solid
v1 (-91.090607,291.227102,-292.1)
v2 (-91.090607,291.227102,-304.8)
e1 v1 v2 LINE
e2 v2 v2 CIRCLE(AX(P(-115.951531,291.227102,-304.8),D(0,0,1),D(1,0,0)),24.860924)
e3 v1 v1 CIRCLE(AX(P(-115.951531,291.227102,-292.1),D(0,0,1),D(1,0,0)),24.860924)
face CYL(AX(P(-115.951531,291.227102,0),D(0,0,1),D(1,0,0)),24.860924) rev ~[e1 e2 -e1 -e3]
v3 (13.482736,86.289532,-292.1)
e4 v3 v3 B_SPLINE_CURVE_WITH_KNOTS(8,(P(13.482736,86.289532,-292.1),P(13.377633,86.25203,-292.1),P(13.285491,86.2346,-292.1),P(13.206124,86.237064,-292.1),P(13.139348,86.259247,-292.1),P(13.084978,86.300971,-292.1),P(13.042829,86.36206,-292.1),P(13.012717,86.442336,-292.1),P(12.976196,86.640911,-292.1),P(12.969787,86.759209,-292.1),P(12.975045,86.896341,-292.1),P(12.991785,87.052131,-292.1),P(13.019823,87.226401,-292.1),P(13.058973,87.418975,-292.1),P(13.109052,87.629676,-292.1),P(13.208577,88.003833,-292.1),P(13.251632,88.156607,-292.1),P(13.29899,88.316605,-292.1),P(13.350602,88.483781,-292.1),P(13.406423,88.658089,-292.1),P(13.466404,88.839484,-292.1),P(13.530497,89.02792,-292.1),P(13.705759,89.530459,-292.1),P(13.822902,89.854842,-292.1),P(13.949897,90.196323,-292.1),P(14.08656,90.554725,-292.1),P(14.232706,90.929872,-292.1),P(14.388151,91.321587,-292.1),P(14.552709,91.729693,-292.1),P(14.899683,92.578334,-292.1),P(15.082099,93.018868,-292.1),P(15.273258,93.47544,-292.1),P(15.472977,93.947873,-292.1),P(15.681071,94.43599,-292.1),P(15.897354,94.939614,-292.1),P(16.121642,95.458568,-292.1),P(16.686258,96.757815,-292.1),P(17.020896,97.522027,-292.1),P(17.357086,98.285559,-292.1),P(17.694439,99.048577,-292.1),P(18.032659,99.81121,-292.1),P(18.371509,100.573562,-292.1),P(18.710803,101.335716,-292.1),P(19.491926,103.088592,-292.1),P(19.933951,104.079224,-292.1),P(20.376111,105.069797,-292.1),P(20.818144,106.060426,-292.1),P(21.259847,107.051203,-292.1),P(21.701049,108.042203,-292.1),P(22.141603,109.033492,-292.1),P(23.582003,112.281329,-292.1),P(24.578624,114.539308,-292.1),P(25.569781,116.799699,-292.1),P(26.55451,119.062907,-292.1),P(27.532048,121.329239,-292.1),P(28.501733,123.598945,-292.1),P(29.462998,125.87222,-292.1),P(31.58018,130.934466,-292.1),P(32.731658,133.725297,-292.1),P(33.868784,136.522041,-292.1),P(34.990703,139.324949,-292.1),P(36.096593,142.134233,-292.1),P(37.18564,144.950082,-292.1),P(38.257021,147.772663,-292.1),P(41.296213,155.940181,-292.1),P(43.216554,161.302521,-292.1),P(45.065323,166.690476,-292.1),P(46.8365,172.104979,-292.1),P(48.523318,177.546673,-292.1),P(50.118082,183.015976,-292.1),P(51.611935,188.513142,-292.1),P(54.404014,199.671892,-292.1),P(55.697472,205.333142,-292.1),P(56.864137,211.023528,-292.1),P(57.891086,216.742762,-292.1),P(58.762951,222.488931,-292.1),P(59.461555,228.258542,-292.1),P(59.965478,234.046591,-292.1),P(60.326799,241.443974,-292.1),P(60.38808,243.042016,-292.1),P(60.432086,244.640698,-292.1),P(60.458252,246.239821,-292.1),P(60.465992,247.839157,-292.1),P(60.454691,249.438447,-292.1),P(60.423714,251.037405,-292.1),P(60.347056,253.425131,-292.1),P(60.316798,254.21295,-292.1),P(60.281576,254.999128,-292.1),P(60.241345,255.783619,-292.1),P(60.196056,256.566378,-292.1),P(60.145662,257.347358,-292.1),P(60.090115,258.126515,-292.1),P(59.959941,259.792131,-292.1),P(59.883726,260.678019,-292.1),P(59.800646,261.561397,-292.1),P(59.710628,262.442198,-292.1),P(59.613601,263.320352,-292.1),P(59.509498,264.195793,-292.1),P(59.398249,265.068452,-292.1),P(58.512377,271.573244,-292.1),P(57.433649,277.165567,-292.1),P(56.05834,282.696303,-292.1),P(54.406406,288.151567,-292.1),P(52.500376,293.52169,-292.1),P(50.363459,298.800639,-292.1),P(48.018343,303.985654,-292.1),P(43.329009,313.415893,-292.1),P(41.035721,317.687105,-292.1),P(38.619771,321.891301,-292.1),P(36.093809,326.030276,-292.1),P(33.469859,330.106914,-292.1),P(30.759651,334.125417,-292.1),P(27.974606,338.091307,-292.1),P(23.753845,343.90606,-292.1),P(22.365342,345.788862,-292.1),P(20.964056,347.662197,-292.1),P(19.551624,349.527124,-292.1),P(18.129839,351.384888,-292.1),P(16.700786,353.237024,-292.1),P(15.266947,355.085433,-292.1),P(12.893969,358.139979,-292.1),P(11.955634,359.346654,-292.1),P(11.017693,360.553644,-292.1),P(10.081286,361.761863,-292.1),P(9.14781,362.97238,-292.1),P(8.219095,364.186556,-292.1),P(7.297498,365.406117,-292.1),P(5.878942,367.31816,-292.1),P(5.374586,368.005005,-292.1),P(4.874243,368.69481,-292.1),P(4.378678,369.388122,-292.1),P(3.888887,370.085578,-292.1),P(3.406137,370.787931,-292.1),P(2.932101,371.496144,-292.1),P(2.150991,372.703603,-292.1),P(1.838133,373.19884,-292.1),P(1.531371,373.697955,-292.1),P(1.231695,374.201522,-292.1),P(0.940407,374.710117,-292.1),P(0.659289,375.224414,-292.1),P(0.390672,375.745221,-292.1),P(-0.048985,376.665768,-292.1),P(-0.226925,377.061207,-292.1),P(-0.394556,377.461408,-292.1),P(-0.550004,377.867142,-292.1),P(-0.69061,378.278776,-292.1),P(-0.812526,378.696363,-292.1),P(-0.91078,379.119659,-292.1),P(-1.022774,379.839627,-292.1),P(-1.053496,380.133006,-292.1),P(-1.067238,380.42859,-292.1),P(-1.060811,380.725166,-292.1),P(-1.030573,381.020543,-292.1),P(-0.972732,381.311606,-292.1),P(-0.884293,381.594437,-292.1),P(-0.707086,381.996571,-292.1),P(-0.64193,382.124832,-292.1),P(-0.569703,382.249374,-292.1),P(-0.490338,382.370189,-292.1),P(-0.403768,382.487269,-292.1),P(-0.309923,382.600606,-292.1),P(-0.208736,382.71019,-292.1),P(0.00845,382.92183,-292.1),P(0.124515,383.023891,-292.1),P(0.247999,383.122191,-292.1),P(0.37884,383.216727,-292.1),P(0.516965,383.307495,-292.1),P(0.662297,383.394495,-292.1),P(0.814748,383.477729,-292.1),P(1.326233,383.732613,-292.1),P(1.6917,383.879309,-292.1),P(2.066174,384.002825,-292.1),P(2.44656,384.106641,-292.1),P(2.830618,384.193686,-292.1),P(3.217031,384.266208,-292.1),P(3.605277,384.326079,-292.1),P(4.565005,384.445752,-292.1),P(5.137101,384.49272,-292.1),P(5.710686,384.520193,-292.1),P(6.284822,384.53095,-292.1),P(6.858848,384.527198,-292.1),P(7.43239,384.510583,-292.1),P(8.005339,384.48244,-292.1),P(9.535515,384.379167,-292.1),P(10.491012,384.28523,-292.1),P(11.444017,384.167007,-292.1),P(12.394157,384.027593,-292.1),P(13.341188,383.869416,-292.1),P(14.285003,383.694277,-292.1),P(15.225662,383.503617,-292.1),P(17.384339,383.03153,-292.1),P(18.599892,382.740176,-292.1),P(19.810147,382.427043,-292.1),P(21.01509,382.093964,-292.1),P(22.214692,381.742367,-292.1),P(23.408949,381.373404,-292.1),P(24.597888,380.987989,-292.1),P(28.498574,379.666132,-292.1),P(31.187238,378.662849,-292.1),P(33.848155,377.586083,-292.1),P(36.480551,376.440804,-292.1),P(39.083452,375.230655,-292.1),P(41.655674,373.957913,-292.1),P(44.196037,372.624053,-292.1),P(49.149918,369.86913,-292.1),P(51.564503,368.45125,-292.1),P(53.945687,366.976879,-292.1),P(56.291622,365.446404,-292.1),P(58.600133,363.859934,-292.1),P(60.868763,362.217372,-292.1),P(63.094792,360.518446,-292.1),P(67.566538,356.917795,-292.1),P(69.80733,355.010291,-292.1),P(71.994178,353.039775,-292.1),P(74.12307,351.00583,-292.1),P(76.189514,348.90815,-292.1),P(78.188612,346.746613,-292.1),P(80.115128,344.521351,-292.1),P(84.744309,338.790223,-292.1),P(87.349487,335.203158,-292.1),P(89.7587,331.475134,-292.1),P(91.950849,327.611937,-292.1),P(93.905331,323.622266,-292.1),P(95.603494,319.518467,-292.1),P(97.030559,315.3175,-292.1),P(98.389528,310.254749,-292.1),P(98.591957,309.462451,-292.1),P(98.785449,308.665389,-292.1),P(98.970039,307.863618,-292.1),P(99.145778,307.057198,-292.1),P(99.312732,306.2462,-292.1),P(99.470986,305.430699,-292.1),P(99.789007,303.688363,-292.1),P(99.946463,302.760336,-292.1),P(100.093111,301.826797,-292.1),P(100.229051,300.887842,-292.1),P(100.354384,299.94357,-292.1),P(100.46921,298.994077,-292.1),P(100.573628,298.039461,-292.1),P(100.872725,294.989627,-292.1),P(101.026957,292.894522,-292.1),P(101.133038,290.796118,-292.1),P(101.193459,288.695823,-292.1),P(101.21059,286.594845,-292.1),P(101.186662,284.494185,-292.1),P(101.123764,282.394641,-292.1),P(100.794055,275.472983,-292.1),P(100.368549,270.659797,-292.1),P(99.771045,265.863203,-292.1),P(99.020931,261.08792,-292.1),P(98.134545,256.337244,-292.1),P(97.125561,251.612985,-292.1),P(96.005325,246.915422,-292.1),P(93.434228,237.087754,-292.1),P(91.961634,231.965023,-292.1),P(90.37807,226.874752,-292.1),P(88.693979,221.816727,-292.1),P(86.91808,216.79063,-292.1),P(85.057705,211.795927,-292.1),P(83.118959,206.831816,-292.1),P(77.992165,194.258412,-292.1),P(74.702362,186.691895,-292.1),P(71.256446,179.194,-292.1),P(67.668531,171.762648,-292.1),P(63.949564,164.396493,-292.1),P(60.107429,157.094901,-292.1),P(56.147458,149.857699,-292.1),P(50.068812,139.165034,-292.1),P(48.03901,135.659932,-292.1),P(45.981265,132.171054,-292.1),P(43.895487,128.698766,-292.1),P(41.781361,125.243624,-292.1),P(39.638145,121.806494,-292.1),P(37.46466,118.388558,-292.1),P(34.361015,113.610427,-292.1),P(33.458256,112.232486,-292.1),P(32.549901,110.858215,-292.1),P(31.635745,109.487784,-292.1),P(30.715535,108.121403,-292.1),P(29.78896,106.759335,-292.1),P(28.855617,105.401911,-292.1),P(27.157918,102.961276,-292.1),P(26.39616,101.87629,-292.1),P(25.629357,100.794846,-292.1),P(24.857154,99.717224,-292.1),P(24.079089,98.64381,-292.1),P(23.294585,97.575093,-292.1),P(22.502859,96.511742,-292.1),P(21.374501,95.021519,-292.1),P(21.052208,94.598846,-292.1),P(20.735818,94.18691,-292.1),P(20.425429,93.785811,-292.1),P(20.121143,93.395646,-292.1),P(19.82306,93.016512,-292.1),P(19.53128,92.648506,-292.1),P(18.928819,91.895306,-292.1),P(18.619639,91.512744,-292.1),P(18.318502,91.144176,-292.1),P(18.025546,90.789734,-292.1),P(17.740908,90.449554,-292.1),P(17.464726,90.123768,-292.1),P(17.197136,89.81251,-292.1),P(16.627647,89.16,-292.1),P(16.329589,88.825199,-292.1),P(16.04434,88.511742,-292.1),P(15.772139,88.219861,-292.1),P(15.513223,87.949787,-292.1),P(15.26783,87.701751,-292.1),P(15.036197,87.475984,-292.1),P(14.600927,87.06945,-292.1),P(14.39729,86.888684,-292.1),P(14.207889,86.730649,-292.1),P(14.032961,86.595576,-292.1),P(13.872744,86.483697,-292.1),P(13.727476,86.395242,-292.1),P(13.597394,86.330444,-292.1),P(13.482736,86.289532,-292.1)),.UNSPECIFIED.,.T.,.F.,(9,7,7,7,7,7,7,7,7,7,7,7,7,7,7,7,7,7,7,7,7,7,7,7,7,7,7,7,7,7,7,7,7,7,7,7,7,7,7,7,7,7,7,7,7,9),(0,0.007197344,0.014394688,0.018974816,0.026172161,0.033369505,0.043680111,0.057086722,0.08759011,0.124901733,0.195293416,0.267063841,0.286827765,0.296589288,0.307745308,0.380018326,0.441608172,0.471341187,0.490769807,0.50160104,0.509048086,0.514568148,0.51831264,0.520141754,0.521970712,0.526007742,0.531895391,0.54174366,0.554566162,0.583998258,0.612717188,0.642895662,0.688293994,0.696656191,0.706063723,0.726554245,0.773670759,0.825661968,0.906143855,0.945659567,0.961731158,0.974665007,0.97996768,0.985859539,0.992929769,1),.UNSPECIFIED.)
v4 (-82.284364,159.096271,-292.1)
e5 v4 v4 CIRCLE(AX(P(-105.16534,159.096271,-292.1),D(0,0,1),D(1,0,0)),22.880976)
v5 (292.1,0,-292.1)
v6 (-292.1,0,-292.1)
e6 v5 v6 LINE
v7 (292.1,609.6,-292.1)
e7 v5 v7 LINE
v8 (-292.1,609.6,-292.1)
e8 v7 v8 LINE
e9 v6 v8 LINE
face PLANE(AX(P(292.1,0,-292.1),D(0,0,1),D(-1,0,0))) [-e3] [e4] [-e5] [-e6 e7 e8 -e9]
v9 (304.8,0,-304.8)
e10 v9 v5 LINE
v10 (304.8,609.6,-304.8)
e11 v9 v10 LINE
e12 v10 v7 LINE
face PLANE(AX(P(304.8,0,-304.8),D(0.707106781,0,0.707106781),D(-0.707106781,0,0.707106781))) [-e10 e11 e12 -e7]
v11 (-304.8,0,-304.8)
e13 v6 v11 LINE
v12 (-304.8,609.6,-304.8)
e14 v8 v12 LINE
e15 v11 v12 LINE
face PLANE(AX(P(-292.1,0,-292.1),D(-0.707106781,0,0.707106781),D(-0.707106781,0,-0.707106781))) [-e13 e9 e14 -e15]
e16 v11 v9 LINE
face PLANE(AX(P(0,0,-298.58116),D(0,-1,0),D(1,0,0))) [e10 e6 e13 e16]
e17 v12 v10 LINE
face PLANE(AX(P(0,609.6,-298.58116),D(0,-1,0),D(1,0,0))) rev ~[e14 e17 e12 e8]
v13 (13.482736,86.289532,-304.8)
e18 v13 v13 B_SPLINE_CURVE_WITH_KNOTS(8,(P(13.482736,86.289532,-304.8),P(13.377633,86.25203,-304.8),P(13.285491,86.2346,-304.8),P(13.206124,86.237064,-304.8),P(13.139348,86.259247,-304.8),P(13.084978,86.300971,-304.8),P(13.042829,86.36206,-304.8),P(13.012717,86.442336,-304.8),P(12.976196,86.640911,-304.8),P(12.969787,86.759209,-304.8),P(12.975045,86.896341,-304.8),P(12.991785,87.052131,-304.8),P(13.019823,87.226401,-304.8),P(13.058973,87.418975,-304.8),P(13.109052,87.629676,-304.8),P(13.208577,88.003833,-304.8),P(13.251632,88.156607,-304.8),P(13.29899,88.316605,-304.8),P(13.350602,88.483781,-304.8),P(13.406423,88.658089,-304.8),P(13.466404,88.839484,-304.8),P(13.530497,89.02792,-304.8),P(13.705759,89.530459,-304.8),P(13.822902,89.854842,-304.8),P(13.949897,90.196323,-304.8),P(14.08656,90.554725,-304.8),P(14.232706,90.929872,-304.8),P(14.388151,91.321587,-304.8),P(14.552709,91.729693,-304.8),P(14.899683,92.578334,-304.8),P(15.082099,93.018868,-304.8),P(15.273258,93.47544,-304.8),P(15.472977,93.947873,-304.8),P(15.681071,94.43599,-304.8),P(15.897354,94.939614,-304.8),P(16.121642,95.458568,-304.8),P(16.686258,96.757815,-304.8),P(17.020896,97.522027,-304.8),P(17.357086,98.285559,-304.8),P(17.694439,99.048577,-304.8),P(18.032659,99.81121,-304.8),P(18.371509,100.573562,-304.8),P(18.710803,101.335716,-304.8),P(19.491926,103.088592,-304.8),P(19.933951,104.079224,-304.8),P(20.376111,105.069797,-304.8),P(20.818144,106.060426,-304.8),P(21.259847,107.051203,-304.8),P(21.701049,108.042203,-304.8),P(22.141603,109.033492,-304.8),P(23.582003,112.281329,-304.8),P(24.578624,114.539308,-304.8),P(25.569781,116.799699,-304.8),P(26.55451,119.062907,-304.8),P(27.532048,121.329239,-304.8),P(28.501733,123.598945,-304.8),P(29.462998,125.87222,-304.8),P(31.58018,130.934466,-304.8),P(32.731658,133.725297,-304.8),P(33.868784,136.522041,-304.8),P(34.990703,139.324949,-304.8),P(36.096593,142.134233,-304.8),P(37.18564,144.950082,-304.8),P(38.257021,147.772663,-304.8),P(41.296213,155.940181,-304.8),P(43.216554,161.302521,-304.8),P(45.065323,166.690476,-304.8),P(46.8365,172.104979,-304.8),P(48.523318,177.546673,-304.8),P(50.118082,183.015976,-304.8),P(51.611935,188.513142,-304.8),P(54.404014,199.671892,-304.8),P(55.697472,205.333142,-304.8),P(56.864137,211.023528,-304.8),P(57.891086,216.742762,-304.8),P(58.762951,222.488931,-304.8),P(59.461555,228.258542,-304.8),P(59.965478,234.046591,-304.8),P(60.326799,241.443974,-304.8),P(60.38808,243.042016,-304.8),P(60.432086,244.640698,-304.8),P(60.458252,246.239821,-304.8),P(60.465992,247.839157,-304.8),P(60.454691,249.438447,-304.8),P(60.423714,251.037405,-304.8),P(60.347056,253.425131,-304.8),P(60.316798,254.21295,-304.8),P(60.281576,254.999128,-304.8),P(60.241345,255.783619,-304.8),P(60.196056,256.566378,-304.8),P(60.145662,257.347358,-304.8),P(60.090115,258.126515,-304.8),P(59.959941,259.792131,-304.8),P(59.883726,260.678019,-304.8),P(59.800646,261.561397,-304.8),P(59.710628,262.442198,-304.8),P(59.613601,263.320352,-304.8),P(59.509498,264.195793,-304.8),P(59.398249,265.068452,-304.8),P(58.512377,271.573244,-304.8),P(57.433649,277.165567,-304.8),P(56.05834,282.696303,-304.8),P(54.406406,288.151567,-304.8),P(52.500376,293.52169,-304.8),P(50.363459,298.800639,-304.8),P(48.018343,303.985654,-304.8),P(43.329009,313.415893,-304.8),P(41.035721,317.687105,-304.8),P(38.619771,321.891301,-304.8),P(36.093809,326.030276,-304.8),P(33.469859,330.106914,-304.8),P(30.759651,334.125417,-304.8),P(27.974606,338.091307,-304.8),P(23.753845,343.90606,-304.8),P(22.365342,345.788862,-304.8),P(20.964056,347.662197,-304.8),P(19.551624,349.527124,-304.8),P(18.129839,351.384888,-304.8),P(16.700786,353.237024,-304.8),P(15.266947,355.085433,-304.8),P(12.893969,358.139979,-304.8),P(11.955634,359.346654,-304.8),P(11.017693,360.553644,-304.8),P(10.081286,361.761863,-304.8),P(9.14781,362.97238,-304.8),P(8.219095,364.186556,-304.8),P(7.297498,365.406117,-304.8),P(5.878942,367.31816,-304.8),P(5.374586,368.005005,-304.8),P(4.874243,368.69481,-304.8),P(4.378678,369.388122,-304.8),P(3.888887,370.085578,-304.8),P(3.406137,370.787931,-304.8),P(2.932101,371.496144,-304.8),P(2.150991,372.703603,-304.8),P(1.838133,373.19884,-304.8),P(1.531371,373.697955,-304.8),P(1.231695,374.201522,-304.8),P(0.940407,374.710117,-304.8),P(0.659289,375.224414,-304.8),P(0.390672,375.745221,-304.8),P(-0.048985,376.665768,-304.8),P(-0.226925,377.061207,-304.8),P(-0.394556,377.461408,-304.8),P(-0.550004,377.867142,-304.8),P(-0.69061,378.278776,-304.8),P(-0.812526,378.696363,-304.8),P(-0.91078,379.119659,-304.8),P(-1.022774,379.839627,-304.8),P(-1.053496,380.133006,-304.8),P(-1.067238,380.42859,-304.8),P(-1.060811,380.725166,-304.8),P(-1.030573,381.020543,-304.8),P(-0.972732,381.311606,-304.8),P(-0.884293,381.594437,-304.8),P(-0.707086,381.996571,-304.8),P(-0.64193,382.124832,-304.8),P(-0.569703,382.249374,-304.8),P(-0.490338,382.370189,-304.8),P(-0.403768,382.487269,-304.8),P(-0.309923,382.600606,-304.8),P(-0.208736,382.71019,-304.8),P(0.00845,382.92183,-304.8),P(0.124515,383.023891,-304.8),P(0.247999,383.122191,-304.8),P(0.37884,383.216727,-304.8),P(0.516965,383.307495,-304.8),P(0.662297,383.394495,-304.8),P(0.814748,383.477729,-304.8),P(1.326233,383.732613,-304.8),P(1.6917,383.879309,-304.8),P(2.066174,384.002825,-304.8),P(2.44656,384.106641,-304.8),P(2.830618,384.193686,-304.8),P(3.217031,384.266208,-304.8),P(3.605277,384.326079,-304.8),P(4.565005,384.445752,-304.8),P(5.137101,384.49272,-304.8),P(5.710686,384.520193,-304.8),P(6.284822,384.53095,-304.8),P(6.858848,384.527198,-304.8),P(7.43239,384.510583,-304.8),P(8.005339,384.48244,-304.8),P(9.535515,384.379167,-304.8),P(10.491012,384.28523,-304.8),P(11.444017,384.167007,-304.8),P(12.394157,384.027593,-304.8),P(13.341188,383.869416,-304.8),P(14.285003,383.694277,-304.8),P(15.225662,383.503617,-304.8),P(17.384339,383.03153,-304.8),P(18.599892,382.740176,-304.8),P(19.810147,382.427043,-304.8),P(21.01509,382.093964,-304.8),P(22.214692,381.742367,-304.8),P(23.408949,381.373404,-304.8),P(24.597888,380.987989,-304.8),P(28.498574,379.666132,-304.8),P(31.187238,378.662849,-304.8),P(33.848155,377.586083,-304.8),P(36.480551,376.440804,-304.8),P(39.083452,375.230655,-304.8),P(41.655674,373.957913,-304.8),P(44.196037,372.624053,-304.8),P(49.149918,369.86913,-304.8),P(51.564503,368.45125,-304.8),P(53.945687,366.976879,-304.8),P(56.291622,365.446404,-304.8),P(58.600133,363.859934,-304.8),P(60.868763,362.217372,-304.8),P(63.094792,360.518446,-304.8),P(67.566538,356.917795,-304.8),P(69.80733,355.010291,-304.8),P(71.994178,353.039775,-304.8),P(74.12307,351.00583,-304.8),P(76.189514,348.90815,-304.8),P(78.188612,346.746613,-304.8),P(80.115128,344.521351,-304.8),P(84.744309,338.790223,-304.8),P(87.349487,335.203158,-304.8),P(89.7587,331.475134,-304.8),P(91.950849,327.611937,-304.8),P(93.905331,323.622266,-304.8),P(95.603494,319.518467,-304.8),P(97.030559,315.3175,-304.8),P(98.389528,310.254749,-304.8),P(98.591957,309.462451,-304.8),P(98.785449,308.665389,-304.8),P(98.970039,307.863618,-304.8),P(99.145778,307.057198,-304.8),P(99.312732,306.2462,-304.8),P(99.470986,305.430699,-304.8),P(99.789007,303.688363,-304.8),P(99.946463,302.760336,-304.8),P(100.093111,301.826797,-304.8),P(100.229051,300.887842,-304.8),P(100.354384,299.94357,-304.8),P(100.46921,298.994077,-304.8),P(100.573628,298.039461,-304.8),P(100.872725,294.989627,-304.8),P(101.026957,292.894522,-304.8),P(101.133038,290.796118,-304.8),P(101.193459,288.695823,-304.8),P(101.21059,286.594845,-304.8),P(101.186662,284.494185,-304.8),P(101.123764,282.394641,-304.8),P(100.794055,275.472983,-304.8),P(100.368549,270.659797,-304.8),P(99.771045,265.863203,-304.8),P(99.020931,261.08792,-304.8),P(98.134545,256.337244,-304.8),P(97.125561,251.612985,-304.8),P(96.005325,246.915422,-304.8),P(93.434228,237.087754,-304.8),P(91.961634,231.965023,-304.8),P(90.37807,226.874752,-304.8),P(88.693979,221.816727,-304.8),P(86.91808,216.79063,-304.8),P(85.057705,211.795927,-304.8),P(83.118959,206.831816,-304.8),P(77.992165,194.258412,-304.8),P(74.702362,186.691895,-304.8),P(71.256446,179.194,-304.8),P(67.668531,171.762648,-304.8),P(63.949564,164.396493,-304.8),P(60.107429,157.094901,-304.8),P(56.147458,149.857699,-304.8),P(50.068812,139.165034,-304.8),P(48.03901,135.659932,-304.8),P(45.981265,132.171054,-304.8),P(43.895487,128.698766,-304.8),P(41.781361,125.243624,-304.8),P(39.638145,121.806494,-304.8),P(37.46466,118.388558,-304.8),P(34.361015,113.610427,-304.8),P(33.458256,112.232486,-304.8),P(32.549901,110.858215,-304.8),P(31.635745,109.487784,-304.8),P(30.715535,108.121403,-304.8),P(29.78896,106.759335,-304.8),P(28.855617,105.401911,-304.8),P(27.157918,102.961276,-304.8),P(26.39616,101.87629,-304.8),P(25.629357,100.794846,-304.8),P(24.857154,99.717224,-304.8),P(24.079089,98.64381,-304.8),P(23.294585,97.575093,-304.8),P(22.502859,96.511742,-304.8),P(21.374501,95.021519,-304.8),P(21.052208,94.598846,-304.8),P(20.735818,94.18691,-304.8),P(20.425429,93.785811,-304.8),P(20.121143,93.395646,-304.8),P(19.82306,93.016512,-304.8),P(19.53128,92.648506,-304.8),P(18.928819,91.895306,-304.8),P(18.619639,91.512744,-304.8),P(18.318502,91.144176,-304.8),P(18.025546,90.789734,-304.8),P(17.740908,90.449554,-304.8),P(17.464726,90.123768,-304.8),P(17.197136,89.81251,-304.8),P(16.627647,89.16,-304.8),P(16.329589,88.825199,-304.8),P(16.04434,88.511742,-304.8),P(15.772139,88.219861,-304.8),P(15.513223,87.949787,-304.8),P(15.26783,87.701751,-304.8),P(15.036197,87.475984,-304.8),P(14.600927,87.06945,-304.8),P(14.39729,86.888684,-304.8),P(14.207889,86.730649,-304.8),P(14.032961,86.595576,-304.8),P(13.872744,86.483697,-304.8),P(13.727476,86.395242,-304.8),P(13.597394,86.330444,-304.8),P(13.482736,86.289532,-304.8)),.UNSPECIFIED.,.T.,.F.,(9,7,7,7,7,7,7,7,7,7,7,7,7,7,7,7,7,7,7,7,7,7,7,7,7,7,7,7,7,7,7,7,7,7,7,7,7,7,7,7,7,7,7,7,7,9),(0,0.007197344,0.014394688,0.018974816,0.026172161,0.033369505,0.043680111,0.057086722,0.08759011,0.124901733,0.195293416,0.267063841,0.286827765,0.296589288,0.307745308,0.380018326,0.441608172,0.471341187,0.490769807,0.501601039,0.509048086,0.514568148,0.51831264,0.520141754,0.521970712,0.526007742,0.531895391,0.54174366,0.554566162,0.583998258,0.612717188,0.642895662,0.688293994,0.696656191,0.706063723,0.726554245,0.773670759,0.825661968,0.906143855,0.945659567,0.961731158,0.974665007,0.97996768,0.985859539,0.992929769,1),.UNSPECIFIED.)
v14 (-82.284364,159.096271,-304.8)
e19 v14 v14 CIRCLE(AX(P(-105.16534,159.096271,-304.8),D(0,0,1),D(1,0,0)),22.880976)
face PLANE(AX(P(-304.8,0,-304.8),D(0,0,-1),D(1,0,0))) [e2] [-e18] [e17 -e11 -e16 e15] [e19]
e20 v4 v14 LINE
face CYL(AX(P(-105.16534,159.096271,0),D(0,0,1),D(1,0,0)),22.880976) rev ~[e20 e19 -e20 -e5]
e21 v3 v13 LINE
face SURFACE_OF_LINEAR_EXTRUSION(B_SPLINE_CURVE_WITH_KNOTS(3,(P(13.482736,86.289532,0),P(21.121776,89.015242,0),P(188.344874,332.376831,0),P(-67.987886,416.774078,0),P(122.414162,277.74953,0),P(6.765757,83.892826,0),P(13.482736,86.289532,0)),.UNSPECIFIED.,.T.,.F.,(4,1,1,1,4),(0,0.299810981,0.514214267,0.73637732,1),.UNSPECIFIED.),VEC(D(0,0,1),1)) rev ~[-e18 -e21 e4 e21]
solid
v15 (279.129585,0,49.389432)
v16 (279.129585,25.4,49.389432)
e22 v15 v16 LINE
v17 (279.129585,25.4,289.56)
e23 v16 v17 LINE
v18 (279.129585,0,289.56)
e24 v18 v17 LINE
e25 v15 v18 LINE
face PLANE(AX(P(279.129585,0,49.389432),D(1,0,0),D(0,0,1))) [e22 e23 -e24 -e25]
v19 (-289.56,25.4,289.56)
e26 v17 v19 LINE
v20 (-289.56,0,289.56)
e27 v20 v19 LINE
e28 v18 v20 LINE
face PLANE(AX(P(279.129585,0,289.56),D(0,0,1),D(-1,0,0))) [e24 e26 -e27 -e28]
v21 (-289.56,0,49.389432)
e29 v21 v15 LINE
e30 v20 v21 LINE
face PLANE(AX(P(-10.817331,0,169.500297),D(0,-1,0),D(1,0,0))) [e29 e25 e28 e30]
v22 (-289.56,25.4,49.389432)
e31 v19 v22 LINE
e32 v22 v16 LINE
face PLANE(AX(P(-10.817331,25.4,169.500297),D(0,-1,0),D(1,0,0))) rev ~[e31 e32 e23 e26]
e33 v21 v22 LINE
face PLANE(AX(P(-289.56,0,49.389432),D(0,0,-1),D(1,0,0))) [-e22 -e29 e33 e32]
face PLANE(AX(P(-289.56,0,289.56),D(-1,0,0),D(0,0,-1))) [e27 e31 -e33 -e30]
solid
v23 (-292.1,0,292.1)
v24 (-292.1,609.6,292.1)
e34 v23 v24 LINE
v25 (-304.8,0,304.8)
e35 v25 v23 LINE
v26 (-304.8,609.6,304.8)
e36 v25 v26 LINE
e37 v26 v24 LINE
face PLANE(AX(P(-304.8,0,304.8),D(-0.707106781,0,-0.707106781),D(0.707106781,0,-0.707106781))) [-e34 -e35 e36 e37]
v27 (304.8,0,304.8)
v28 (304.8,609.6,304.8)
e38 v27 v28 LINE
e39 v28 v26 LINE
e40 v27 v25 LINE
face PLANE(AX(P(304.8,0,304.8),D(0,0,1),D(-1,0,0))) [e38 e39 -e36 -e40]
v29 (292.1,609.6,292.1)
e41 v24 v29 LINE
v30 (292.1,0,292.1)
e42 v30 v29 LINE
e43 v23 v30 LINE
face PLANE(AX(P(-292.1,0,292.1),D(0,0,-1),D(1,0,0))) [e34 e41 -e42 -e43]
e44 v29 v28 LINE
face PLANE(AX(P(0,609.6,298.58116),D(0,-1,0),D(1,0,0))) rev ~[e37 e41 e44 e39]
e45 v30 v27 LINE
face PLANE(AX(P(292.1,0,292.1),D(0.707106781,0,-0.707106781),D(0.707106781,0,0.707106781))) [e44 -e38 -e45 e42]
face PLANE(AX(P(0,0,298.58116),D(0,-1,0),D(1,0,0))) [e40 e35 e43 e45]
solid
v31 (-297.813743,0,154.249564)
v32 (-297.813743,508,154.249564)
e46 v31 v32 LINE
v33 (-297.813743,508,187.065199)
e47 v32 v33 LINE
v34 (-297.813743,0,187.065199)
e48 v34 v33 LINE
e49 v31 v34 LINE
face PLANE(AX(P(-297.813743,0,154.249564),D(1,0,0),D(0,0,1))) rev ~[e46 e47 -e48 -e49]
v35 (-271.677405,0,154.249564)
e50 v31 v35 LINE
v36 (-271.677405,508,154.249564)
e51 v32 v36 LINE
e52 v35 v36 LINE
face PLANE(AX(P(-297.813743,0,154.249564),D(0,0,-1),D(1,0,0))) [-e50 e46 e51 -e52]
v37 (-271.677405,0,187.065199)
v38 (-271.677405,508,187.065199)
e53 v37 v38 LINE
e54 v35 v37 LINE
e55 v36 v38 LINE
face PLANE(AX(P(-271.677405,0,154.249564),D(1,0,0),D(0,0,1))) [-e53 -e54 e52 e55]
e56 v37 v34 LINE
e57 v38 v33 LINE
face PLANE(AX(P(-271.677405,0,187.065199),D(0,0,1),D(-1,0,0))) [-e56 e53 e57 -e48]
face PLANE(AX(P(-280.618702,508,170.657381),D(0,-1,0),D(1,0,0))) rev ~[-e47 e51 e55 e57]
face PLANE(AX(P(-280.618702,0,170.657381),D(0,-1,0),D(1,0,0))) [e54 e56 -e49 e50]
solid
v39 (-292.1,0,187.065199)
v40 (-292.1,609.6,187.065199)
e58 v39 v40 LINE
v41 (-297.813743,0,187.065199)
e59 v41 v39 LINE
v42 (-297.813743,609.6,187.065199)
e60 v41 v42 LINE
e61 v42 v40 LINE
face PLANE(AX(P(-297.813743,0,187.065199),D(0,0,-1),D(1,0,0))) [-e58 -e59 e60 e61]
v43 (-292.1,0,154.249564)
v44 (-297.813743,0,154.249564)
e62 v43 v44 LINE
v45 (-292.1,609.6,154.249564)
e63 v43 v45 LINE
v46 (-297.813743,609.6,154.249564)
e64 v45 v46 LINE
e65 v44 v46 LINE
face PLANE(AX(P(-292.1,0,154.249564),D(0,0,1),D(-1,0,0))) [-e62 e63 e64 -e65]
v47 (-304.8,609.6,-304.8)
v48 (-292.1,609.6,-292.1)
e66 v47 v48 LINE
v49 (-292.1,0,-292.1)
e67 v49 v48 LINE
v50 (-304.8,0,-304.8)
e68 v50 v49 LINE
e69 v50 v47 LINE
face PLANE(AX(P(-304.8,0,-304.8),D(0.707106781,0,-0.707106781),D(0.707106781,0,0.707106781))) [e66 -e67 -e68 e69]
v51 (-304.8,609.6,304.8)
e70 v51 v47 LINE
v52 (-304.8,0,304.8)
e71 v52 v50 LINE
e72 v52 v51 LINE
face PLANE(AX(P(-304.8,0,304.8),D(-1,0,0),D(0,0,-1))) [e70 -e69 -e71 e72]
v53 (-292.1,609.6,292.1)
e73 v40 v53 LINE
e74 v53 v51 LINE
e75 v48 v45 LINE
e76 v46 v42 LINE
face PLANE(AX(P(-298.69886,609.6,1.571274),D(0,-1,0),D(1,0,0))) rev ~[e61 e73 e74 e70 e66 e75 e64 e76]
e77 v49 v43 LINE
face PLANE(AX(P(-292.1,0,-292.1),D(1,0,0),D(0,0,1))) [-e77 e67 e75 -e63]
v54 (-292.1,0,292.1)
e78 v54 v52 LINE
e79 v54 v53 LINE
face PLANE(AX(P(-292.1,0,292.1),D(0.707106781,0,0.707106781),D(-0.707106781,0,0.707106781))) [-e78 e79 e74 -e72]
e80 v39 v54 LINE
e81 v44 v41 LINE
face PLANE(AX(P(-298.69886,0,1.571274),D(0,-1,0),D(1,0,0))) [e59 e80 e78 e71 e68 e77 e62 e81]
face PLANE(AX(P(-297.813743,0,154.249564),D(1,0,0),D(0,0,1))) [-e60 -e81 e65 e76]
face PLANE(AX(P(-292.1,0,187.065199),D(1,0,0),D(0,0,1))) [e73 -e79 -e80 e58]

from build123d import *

# Parameters (mm, degrees)
F1_DEPTH = 609.6
F2_DEPTH = 609.6
F3_DEPTH = 609.6
F0_W     = 17.8825953579
F0_H     = 32.8156352043
F4_DEPTH = 25.4
F0_W_2   = 5.7137433529
F0_W_3   = 2.54
F5_DEPTH = 508
F6_R     = 22.8809761475
F6_R_2   = 24.8609236325
F7_DEPTH = 304.801


with BuildPart() as f1:
    # F0 (on Front) → F1 (new body)
    with BuildSketch(Plane.XZ):
        Polygon((292.1, 292.1), (304.8, 304.8), (-304.8, 304.8), (-292.1, 292.1), align=None)
    extrude(amount=-F1_DEPTH)


with BuildPart() as f2:
    # F0 (on Front) → F2 (new body, through all)
    with BuildSketch(Plane.XZ):
        Polygon((-292.1, 292.1), (-304.8, 304.8), (-304.8, -304.8), (-292.1, -292.1), (-292.1, 154.2495638132), (-297.8137433529, 154.2495638132), (-297.8137433529, 187.0651990175), (-292.1, 187.0651990175), align=None)
    extrude(amount=-F2_DEPTH)


with BuildPart() as f3:
    # F0 (on Front) → F3 (new body, through all)
    with BuildSketch(Plane.XZ):
        Polygon((-304.8, -304.8), (304.8, -304.8), (292.1, -292.1), (-292.1, -292.1), align=None)
    extrude(amount=-F3_DEPTH)

    # F6 (on Top) → F7 (cut, through all)
    with BuildSketch(Plane.XY):
        with Locations((-105.1653400064, 159.0962707996)):
            Circle(F6_R)
        with Locations((-115.9515306354, 291.2271022797)):
            Circle(F6_R_2)
        with BuildLine():
            add(Edge.make_bspline(
                [(13.4827364236, 86.2895324826), (21.1217764845, 89.0152422214), (188.3448735841, 332.3768305615), (-67.9878855252, 416.7740783563), (122.4141617398, 277.7495301707), (6.7657569122, 83.8928260479), (13.4827364236, 86.2895324826)],
                knots=[0, 0, 0, 0, 0.2998109809, 0.5142142667, 0.7363773197, 1, 1, 1, 1], degree=3))
        make_face()
    extrude(amount=-F7_DEPTH, mode=Mode.SUBTRACT)


with BuildPart() as f4:
    # F0 (on Front) → F4 (new body)
    with BuildSketch(Plane.XZ):
        Polygon((-289.56, 289.56), (-289.56, 187.0651990175), (-271.6774046421, 187.0651990175), (-271.6774046421, 154.2495638132), (-289.56, 154.2495638132), (-289.56, 49.3894317722), (279.1295847321, 49.3894317722), (279.1295847321, 289.56), align=None)
        with Locations((-280.6187023211, 170.6573814154)):
            Rectangle(F0_W, F0_H)
    extrude(amount=-F4_DEPTH)


with BuildPart() as f5:
    # F0 (on Front) → F5 (new body)
    with BuildSketch(Plane.XZ):
        with Locations((-280.6187023211, 170.6573814154)):
            Rectangle(F0_W, F0_H)
        with Locations((-294.9568716764, 170.6573814154)):
            Rectangle(F0_W_2, F0_H)
        with Locations((-290.83, 170.6573814154)):
            Rectangle(F0_W_3, F0_H)
    extrude(amount=-F5_DEPTH)


solid = Compound([f1.part, f2.part, f3.part, f4.part, f5.part])
